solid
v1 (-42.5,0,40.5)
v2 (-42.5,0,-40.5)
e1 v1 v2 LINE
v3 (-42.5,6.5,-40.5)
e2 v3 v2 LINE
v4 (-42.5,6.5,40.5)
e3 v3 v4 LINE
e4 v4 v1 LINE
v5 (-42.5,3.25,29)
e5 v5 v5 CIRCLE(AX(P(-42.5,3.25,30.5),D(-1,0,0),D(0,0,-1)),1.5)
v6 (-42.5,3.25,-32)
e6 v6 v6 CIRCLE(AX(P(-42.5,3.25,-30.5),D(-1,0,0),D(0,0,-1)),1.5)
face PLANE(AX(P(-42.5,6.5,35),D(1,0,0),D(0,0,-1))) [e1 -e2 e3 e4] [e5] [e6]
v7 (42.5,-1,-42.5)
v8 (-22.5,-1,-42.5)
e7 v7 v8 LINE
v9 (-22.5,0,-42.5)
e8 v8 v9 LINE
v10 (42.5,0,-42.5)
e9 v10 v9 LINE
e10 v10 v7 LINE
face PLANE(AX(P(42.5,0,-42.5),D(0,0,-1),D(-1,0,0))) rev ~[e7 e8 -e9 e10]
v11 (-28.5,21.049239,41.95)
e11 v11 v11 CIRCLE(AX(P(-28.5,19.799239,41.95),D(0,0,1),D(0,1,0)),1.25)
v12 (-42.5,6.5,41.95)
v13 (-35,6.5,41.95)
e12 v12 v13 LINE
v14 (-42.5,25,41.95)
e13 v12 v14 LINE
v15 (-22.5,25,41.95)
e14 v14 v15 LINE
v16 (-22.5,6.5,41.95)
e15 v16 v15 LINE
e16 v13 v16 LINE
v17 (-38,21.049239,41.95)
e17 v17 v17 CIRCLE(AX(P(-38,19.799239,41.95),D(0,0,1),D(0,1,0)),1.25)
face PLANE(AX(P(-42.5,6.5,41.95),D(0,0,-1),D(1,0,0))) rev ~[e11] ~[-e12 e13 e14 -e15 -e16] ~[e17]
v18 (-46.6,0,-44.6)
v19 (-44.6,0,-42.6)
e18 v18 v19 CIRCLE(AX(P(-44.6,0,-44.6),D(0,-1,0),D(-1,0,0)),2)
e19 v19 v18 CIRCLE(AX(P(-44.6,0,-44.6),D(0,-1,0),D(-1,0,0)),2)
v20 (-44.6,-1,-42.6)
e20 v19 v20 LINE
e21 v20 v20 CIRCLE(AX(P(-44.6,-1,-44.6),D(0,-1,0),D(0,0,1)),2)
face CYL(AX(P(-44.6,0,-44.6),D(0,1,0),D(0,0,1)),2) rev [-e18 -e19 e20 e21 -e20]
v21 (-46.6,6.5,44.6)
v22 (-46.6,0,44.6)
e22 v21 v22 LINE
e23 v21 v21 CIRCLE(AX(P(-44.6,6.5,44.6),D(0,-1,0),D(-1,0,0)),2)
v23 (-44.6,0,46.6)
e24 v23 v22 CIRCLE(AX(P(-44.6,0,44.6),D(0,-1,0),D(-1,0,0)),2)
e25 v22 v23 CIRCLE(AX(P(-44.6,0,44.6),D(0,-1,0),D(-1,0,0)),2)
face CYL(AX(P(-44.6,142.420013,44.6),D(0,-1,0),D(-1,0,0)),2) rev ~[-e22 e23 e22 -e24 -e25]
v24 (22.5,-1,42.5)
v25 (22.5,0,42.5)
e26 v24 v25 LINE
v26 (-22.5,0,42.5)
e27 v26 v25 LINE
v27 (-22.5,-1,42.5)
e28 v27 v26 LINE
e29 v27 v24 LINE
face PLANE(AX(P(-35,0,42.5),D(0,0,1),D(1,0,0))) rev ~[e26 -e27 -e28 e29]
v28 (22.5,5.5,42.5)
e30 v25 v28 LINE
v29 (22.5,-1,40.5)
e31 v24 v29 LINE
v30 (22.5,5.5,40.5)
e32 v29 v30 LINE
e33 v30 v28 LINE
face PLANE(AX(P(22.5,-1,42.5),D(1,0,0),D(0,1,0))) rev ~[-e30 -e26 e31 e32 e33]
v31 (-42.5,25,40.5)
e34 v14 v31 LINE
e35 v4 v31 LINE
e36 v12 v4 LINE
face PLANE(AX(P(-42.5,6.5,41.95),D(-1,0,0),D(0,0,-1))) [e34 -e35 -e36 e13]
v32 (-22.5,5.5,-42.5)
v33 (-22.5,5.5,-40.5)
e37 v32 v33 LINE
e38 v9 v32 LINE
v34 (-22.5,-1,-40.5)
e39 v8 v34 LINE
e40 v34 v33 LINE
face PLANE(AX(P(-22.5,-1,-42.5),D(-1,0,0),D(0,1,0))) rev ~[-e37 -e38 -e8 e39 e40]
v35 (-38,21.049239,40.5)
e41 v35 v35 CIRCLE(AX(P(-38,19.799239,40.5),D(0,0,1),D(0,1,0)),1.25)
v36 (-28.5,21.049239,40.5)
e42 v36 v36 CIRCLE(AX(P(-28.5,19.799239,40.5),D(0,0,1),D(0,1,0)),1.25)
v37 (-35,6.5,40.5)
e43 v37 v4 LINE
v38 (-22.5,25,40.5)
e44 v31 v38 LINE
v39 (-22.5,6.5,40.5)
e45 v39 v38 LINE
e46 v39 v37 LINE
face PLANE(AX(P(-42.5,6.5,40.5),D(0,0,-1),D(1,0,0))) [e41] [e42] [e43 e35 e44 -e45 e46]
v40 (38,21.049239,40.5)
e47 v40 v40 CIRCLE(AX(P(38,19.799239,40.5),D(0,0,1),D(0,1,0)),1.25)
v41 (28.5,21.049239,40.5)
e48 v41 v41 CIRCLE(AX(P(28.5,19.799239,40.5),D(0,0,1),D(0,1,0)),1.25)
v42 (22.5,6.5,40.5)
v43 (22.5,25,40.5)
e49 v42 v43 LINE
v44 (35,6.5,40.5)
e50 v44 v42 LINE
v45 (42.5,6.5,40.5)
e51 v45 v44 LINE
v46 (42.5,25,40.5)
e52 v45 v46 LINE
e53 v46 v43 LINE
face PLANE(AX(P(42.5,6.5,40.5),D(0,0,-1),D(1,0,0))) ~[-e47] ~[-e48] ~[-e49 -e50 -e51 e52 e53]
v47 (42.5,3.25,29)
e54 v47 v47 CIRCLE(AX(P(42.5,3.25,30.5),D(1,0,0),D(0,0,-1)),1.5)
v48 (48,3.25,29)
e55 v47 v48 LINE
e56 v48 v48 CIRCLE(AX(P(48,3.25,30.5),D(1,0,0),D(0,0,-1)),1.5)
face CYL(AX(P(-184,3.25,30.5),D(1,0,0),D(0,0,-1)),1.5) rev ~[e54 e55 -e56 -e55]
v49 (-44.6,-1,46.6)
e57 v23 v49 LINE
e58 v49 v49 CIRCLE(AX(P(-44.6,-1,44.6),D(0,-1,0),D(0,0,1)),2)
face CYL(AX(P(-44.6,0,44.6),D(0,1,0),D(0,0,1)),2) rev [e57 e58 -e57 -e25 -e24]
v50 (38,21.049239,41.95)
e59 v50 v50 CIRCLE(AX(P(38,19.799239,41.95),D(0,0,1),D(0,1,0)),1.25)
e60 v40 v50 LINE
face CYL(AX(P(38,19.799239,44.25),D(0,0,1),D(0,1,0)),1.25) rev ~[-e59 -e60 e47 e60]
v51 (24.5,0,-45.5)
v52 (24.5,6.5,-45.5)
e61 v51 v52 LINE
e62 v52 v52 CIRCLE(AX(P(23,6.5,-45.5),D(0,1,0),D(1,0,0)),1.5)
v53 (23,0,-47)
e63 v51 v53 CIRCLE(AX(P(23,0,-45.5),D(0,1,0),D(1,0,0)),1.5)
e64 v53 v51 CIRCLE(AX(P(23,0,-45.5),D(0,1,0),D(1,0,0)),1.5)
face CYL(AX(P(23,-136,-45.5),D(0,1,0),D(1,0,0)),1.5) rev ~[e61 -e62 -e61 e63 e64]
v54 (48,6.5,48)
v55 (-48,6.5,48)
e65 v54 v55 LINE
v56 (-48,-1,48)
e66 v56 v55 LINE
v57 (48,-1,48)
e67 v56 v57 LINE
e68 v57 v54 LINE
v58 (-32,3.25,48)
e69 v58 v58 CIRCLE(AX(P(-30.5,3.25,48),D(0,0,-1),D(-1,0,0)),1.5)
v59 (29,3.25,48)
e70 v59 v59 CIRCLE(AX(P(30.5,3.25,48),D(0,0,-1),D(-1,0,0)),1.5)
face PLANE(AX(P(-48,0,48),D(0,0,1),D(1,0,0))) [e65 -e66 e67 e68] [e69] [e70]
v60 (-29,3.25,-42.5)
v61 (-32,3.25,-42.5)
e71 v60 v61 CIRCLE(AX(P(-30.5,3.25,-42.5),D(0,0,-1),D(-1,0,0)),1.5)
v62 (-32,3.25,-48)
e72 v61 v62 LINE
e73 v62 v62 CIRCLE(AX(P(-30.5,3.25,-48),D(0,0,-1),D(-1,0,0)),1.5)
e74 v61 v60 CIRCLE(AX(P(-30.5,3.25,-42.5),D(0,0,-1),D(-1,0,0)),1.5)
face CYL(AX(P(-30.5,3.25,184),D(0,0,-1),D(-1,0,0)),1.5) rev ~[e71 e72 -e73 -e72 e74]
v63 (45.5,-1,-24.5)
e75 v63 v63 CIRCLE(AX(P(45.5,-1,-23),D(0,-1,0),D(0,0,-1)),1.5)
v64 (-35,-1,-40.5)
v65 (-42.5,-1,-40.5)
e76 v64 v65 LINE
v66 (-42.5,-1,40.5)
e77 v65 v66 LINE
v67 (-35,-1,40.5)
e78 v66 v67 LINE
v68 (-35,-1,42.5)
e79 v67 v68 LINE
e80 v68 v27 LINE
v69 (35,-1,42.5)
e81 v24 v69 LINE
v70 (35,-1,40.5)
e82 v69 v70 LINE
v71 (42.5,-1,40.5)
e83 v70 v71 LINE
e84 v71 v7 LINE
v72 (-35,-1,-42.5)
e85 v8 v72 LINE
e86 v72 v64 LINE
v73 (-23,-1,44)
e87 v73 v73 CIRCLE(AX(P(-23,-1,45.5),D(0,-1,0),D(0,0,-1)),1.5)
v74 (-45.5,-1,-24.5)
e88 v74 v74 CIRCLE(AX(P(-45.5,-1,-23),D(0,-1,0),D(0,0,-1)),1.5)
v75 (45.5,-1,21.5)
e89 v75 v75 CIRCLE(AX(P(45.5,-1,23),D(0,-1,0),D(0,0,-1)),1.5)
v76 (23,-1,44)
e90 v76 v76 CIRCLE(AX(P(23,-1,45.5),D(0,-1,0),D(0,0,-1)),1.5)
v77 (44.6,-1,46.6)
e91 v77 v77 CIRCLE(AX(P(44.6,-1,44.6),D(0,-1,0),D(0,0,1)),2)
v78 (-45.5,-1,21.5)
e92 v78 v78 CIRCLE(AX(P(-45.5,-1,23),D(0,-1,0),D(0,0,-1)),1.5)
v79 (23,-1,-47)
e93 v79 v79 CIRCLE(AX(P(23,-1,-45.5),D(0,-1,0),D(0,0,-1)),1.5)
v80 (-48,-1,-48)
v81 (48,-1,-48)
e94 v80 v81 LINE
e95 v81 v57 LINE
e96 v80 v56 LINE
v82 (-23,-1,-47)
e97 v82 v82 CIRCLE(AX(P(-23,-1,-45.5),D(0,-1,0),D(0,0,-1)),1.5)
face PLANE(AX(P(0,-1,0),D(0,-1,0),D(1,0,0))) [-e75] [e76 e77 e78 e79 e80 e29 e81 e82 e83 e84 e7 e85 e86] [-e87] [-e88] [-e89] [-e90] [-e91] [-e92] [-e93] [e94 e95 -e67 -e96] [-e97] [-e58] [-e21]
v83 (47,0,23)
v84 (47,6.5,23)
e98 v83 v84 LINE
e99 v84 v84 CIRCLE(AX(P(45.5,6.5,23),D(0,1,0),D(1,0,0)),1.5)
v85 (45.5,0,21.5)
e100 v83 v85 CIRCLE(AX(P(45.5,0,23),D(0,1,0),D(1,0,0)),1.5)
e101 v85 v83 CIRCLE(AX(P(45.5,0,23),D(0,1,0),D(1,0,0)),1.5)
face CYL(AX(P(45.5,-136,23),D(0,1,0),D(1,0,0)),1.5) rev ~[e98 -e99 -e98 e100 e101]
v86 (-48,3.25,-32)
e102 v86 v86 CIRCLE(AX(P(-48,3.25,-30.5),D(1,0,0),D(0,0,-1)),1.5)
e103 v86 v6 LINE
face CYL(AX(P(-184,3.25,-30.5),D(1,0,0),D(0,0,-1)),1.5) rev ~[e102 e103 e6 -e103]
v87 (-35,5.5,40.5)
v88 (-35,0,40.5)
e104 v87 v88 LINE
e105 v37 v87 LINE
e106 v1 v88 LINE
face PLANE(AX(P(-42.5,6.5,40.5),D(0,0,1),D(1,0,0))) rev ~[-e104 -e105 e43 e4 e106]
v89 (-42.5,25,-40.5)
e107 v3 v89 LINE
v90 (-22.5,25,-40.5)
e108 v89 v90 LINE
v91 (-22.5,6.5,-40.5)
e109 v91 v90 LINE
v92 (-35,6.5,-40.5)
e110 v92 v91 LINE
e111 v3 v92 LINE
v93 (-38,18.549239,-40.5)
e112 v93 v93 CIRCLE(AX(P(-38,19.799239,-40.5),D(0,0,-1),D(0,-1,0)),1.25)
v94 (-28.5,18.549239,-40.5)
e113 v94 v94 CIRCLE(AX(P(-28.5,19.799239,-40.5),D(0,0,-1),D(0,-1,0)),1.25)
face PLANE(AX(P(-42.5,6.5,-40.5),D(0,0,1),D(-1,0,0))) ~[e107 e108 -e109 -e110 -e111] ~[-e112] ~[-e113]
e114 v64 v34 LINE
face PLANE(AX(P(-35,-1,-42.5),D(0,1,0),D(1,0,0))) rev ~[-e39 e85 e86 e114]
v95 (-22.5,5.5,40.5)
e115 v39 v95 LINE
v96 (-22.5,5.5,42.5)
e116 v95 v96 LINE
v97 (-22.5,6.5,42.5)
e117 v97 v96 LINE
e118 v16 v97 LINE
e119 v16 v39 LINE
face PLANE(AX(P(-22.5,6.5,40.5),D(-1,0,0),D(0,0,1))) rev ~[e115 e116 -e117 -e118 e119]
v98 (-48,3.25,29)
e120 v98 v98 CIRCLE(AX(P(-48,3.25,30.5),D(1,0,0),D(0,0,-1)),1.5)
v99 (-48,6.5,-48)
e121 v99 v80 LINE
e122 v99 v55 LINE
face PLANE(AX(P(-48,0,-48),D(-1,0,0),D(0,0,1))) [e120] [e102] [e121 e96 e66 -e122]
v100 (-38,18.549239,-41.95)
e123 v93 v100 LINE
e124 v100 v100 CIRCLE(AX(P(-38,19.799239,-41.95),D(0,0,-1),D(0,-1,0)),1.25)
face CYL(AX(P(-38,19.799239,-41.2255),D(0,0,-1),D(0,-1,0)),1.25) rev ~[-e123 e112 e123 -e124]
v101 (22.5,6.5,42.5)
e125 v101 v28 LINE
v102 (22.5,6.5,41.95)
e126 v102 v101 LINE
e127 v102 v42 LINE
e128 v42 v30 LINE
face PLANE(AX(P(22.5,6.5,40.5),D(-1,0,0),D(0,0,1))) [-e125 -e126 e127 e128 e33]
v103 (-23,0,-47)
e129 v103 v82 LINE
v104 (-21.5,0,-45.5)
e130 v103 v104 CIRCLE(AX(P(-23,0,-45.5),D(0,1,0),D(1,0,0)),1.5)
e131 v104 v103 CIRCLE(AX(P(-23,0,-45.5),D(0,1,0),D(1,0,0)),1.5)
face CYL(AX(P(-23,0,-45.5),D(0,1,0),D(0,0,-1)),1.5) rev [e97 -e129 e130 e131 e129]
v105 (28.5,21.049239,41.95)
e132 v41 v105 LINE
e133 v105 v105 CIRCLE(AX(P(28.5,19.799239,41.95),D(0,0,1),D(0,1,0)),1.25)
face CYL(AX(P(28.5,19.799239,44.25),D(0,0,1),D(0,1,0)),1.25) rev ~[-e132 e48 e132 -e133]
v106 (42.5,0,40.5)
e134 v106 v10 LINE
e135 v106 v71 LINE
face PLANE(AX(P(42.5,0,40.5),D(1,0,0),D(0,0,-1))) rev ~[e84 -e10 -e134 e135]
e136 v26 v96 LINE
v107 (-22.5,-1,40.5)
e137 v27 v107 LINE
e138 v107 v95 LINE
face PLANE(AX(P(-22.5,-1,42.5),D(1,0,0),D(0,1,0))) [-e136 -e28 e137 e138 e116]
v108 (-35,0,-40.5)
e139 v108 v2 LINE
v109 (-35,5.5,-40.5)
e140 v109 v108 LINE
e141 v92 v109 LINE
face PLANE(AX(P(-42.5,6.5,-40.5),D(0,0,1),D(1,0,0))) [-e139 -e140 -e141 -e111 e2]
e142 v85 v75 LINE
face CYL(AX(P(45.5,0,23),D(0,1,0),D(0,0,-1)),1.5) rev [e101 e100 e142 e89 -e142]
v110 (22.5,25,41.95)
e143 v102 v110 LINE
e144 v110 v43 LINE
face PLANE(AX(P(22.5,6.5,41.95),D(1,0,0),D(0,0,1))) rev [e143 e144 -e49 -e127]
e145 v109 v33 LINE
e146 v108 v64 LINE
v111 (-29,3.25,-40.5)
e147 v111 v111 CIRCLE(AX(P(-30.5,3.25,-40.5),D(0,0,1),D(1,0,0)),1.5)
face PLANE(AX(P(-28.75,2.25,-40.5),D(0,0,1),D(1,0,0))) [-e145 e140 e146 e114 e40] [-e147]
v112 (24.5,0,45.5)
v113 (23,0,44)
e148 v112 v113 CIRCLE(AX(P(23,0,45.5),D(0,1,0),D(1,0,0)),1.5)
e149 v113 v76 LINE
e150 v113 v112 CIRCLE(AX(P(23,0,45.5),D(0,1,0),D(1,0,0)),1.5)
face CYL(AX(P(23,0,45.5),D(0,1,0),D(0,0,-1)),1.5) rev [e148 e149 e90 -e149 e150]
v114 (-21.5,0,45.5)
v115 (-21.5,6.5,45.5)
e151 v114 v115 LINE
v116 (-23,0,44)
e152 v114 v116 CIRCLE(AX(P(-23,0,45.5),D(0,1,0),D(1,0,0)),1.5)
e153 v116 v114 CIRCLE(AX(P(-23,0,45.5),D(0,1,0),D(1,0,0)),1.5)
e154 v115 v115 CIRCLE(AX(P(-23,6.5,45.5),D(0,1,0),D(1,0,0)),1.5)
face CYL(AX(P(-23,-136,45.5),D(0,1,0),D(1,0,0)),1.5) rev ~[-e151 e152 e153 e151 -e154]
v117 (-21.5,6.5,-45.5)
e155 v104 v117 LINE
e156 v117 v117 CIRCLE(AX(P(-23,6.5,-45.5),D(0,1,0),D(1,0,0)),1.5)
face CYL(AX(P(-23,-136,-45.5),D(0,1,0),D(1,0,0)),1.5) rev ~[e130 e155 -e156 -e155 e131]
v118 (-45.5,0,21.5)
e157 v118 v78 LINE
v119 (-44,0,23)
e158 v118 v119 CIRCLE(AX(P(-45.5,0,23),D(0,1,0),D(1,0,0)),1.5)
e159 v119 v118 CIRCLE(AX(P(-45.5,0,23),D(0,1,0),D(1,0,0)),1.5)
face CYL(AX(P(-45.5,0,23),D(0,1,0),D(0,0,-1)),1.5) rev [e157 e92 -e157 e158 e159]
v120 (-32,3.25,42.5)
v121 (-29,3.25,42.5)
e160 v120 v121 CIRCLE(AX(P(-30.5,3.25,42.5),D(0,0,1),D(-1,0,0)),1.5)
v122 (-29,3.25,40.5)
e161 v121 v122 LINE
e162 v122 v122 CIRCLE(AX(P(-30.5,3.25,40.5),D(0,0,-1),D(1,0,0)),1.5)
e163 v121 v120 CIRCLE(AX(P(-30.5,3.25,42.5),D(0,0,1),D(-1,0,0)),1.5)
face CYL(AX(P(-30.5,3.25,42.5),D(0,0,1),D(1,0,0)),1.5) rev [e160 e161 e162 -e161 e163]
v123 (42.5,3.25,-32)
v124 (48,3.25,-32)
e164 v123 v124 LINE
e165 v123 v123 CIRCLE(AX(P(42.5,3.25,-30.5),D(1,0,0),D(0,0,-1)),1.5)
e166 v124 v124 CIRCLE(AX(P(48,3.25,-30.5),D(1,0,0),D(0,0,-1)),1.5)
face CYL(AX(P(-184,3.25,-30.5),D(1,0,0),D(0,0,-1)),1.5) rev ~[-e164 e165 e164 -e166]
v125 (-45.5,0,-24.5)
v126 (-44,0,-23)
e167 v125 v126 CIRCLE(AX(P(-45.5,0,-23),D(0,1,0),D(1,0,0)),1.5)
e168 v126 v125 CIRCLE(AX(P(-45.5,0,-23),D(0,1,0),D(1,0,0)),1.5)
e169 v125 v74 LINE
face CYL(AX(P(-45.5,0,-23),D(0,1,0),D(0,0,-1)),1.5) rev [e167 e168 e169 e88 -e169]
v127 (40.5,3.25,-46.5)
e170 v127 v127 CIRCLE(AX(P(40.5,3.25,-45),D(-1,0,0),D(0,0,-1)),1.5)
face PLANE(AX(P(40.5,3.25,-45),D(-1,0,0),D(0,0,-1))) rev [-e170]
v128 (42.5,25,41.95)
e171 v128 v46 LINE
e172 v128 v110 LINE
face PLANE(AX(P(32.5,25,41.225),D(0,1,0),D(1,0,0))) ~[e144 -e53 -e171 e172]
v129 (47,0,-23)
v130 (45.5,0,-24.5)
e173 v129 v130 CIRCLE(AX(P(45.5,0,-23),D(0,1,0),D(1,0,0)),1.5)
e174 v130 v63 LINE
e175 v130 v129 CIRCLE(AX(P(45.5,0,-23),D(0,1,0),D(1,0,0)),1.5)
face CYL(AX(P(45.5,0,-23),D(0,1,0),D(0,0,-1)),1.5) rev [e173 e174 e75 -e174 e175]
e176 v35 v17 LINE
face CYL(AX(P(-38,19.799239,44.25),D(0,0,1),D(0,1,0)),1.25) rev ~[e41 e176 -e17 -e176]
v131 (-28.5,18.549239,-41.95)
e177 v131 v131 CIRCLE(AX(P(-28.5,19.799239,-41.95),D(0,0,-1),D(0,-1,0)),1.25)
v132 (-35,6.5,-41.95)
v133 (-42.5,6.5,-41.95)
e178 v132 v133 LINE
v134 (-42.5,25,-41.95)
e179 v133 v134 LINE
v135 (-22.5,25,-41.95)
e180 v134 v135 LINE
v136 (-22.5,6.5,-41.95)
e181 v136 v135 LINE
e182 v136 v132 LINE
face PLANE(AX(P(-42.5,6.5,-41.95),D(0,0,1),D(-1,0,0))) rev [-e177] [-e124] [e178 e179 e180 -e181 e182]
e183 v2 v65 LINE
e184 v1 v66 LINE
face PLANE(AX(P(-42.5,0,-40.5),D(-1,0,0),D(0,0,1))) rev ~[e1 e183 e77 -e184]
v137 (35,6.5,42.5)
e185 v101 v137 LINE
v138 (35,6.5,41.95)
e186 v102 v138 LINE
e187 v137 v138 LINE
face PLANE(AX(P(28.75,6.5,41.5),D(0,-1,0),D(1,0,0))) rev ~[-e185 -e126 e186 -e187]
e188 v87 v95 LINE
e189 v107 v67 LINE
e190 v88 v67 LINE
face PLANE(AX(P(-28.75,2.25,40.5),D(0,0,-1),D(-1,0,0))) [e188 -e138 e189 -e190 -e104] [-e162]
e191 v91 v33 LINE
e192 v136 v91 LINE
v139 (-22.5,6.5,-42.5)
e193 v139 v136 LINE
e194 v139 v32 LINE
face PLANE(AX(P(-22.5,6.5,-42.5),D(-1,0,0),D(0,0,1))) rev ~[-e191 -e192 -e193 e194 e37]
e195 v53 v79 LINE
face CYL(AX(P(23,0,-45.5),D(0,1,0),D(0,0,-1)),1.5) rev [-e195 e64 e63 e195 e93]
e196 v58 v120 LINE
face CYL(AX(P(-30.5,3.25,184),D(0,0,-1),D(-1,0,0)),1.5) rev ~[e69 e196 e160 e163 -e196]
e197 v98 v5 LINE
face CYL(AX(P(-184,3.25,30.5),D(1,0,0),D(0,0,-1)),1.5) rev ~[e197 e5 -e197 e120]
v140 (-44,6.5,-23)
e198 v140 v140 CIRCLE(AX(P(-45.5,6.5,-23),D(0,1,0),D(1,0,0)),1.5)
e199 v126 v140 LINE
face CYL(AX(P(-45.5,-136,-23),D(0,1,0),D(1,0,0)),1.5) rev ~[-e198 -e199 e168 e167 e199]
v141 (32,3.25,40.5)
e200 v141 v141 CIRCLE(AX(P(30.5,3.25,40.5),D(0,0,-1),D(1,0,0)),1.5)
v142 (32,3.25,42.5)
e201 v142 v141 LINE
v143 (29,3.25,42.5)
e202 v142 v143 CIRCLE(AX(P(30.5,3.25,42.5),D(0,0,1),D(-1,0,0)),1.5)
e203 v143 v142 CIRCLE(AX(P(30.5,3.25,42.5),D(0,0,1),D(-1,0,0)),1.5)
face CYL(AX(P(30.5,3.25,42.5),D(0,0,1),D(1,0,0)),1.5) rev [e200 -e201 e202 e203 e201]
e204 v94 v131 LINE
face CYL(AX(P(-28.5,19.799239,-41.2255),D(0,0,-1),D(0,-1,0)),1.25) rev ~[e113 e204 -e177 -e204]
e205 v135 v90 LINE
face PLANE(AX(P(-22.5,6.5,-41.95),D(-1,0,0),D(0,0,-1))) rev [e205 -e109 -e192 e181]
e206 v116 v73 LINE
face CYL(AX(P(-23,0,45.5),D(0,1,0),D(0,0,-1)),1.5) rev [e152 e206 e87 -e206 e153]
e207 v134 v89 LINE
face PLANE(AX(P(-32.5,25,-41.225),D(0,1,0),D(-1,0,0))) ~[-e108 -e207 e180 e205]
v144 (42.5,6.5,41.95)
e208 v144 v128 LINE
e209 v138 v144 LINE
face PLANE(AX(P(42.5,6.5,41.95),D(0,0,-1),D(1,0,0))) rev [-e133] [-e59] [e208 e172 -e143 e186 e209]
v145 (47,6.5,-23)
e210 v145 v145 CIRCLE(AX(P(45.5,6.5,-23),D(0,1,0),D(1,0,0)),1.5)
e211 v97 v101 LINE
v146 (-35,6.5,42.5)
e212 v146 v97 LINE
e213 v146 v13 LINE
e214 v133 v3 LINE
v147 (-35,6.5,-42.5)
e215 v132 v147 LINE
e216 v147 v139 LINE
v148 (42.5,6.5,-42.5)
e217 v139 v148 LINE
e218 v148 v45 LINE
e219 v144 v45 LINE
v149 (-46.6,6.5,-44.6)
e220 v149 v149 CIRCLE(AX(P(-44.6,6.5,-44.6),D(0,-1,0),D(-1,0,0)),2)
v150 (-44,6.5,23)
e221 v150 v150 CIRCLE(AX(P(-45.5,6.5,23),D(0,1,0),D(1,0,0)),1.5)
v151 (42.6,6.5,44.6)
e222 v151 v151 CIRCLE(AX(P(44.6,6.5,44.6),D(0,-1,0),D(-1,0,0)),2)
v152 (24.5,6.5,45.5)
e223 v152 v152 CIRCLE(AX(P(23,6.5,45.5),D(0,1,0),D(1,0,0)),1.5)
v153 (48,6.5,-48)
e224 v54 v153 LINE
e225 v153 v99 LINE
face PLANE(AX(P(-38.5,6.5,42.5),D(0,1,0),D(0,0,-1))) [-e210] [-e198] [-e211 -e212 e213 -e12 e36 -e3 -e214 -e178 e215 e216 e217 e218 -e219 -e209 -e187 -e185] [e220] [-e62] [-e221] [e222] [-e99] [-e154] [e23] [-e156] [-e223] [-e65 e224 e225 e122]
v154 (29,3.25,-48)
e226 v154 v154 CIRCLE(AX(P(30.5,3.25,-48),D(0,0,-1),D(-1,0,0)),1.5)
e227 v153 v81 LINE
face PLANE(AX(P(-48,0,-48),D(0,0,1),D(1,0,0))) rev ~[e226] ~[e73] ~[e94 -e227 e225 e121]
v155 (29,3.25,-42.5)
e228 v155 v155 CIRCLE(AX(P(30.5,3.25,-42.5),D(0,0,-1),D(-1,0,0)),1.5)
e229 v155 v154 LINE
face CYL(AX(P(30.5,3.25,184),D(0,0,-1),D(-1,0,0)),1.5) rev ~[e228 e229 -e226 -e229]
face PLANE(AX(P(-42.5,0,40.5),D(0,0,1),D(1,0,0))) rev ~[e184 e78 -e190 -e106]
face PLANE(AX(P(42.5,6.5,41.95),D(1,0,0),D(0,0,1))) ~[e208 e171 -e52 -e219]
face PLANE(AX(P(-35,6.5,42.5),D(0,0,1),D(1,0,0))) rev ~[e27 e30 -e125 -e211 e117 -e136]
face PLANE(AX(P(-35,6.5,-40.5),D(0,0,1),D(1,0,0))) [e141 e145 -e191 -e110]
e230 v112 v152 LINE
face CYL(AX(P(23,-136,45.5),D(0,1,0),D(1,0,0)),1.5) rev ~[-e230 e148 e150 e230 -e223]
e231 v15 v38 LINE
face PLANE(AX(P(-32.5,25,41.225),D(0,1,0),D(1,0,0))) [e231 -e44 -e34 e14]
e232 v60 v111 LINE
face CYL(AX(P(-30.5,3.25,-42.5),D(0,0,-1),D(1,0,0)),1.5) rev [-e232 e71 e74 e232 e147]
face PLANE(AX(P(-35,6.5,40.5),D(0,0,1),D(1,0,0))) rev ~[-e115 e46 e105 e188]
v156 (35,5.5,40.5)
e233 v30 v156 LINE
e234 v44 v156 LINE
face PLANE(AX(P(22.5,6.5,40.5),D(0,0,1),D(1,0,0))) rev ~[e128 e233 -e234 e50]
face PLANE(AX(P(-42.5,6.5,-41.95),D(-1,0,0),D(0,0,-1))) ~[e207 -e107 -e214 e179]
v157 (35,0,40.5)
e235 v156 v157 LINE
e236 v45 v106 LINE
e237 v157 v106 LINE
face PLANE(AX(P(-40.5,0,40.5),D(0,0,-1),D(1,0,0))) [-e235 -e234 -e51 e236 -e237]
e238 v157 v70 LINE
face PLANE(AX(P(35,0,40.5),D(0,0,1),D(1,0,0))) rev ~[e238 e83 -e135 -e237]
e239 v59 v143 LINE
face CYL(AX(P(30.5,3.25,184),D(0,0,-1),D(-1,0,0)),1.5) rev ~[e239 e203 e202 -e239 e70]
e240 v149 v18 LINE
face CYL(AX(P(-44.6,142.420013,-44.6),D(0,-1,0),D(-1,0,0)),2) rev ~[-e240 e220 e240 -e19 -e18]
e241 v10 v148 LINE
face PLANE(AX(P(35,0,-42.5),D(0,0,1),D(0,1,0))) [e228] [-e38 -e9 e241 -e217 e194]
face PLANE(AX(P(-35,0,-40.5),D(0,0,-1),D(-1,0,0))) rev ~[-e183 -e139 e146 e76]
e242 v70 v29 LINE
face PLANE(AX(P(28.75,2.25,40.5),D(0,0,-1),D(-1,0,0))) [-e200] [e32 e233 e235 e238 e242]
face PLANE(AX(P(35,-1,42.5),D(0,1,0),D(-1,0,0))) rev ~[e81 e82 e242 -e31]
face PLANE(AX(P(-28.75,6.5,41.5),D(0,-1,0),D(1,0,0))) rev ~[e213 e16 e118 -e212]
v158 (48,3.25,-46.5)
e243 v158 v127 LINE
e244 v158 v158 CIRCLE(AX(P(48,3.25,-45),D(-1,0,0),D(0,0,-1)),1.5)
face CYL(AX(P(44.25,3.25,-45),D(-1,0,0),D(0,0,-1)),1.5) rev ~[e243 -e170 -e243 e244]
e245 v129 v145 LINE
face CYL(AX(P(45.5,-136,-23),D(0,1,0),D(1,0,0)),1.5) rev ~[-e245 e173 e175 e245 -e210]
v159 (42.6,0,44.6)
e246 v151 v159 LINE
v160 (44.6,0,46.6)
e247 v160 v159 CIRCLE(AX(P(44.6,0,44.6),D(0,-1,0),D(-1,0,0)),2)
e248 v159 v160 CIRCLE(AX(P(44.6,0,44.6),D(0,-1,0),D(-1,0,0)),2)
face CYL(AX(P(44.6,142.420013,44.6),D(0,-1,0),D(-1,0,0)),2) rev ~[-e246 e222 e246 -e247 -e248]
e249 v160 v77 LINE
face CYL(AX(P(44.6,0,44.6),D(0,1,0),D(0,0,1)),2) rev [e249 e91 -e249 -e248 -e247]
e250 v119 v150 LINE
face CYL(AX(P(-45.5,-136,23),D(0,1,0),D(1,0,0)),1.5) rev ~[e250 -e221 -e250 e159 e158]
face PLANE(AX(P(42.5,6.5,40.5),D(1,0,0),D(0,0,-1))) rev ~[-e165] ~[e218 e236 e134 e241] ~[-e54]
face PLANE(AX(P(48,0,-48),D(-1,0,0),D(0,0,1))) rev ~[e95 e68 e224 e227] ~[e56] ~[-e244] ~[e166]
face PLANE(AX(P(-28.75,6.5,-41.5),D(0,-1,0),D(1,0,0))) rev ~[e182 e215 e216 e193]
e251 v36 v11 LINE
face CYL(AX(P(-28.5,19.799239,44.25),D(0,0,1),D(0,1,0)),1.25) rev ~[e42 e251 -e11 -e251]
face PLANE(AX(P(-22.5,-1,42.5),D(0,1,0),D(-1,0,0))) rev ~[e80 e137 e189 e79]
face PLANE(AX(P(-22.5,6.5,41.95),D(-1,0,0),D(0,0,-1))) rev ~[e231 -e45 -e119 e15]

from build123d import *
from build123d.topology import SkipClean

# Parameters (mm, degrees)
SKETCH1_W                               = 96
SKETCH1_H                               = 96
SKETCH1_W_2                             = 80
SKETCH1_H_2                             = 80
BOSS_EXTRUDE1_DEPTH                     = 8
SKETCH27_W                              = 82
SKETCH27_H                              = 82
CUT_EXTRUDE2_DEPTH                      = 10
F_3_0_3_DIAMETER_HOLE1_D                = 3
TAP_DRILL_FOR_M3X0_5_TAP2_D             = 3
SKETCH38_W                              = 85
SKETCH38_H                              = 85
CUT_EXTRUDE4_DEPTH                      = 10
F_3_0_3_DIAMETER_HOLE7_D                = 3
SKETCH44_W                              = 4
SKETCH44_H                              = 4
BOSS_EXTRUDE2_DEPTH                     = 8
SKETCH45_W                              = 4
SKETCH45_H                              = 3.5
BOSS_EXTRUDE3_DEPTH                     = 8
SKETCH49_W                              = 96
SKETCH49_H                              = 1.5
CUT_EXTRUDE5_DEPTH                      = 146
TAP_DRILL_FOR_M4_TAP1_D                 = 4
SKETCH53_W                              = 4
SKETCH53_H                              = 6.5
BOSS_EXTRUDE5_DEPTH                     = 78
SKETCH57_W                              = 4
SKETCH57_H                              = 6.5
CUT_EXTRUDE6_DEPTH                      = 7.5
SKETCH58_W                              = 4
SKETCH58_H                              = 6.5
BOSS_EXTRUDE7_DEPTH                     = 81
SKETCH61_W                              = 32
SKETCH61_H                              = 85
CUT_EXTRUDE7_DEPTH                      = 81
SKETCH66_W                              = 85
SKETCH66_H                              = 80.198
CUT_EXTRUDE8_DEPTH                      = 10
SKETCH67_W                              = 85
SKETCH67_H                              = 85
CUT_EXTRUDE9_DEPTH                      = 3.5
SKETCH68_W                              = 52
SKETCH68_H                              = 85
CUT_EXTRUDE10_DEPTH                     = 56
SKETCH54_W                              = 20
SKETCH54_H                              = 1.45
BOSS_EXTRUDE8_DEPTH                     = 18.5
CUT_EXTRUDE12_START                     = -10.22
SKETCH75_W                              = 2.401
SKETCH75_H                              = 3
CUT_EXTRUDE12_DEPTH                     = 72.44
SKETCH77_W                              = 2.401
SKETCH77_H                              = 3
CUT_EXTRUDE13_DEPTH                     = 6.28
SKETCH78_W                              = 85
SKETCH78_H                              = 85
CUT_EXTRUDE14_DEPTH                     = 6.5
SKETCH79_W                              = 85
SKETCH79_H                              = 85
SKETCH79_W_2                            = 81
SKETCH79_H_2                            = 81
BOSS_EXTRUDE12_DEPTH                    = 6.5
SKETCH82_W                              = 1.25
SKETCH82_H                              = 7.5
TAP_DRILL_FOR_M2_5X0_45_TAP2_AT_2_COUNT = 2
TAP_DRILL_FOR_M2_5X0_45_TAP2_AT_2_PITCH = 9.5
TAP_DRILL_FOR_M2_5X0_45_TAP2_AT_3_COUNT = 2
TAP_DRILL_FOR_M2_5X0_45_TAP2_AT_3_PITCH = 66.5
TAP_DRILL_FOR_M2_5X0_45_TAP2_AT_4_COUNT = 2
TAP_DRILL_FOR_M2_5X0_45_TAP2_AT_4_PITCH = 57
SKETCH84_W                              = 1.25
SKETCH84_H                              = 1.451
TAP_DRILL_FOR_M2_5X0_45_TAP3_AT_2_COUNT = 2
TAP_DRILL_FOR_M2_5X0_45_TAP3_AT_2_PITCH = 9.5
SKETCH86_W                              = 1.5
SKETCH86_H                              = 7.5
SKETCH88_W                              = 2
SKETCH88_H                              = 70
SKETCH88_W_2                            = 70
SKETCH88_H_2                            = 2
CUT_EXTRUDE15_DEPTH                     = 10
SKETCH89_W                              = 85
SKETCH89_H                              = 81
CUT_EXTRUDE16_DEPTH                     = 10
SKETCH90_W                              = 2
SKETCH90_H                              = 6.5
CUT_EXTRUDE17_DEPTH                     = 7.5
SKETCH91_W                              = 96
SKETCH91_H                              = 96
SKETCH91_R                              = 1.5
SKETCH91_R_2                            = 2
BOSS_EXTRUDE14_DEPTH                    = 1
SKETCH92_W                              = 12.5
SKETCH92_H                              = 2
BOSS_EXTRUDE15_DEPTH                    = 1
SKETCH94_W                              = 12.5
SKETCH94_H                              = 2
BOSS_EXTRUDE16_DEPTH                    = 1
SKETCH95_W                              = 12.5
SKETCH95_H                              = 2
BOSS_EXTRUDE17_DEPTH                    = 1
SKETCH96_W                              = 12.5
SKETCH96_H                              = 6.5
SKETCH96_R                              = 1.5
BOSS_EXTRUDE18_DEPTH                    = 2
SKETCH97_W                              = 12.5
SKETCH97_H                              = 6.5
SKETCH97_R                              = 1.5
BOSS_EXTRUDE19_DEPTH                    = 2


with BuildPart() as part:
    # Sketch1 → Boss-Extrude1 (new body)
    with BuildSketch(Plane(origin=(0, 0, 0), x_dir=(1, 0, 0), z_dir=(0, 1, 0))):
        Rectangle(SKETCH1_W, SKETCH1_H)
        Rectangle(SKETCH1_W_2, SKETCH1_H_2, mode=Mode.SUBTRACT)
    extrude(amount=BOSS_EXTRUDE1_DEPTH)

    # Sketch27 → Cut-Extrude2 (cut)
    with BuildSketch(Plane(origin=(0, 8, 0), x_dir=(1, 0, 0), z_dir=(0, 1, 0))):
        Rectangle(SKETCH27_W, SKETCH27_H)
    extrude(amount=-CUT_EXTRUDE2_DEPTH, mode=Mode.SUBTRACT)

    # Ø3.0 (3) Diameter Hole1 (through all)
    with Locations(Plane.XY.offset(48)):
        with Locations((-30.5, 3.25), (30.5, 3.25)):
            Hole(F_3_0_3_DIAMETER_HOLE1_D / 2)

    # Tap Drill for M3x0.5 Tap2 (through all)
    with Locations(Plane(origin=(0, 0, 0), x_dir=(-1, 0, 0), z_dir=(0, -1, 0))):
        with Locations((23, -45.5), (-23, -45.5), (-45.5, -23), (-45.5, 23), (-23, 45.5), (23, 45.5), (45.5, 23), (45.5, -23)):
            Hole(TAP_DRILL_FOR_M3X0_5_TAP2_D / 2)

    # Sketch38 → Cut-Extrude4 (cut)
    with BuildSketch(Plane(origin=(0, 8, 0), x_dir=(1, 0, 0), z_dir=(0, 1, 0))):
        Rectangle(SKETCH38_W, SKETCH38_H)
    extrude(amount=-CUT_EXTRUDE4_DEPTH, mode=Mode.SUBTRACT)

    # Ø3.0 (3) Diameter Hole7 (through all)
    with Locations(Plane.ZY.offset(48)):
        with Locations((-30.5, 3.25), (30.5, 3.25)):
            Hole(F_3_0_3_DIAMETER_HOLE7_D / 2)

    # Sketch44 → Boss-Extrude2 (add)
    with BuildSketch(Plane.XZ):
        with Locations((40.5, -40.5)):
            Rectangle(SKETCH44_W, SKETCH44_H)
        with Locations((-40.5, -40.5)):
            Rectangle(SKETCH44_W, SKETCH44_H)
        with Locations((-40.5, 40.5)):
            Rectangle(SKETCH44_W, SKETCH44_H)
        with Locations((40.5, 40.5)):
            Rectangle(SKETCH44_W, SKETCH44_H)
    extrude(amount=-BOSS_EXTRUDE2_DEPTH)

    # Sketch45 → Boss-Extrude3 (add)
    with BuildSketch(Plane(origin=(0, 8, 0), x_dir=(1, 0, 0), z_dir=(0, 1, 0))):
        with Locations((-40.5, 36.75)):
            Rectangle(SKETCH45_W, SKETCH45_H)
    extrude(amount=-BOSS_EXTRUDE3_DEPTH)

    # Sketch49 → Cut-Extrude5 (cut)
    with BuildSketch(Plane(origin=(48, 0, 0), x_dir=(0, 0, -1), z_dir=(1, 0, 0))):
        with Locations((0, 7.25)):
            Rectangle(SKETCH49_W, SKETCH49_H)
    extrude(amount=-CUT_EXTRUDE5_DEPTH, mode=Mode.SUBTRACT)

    # Tap Drill for M4 Tap1 (through all)
    with Locations(Plane(origin=(0, 6.5, 0), x_dir=(1, 0, 0), z_dir=(0, 1, 0))):
        with Locations((44.6, -44.6), (-44.6, -44.6), (-44.6, 44.6)):
            Hole(TAP_DRILL_FOR_M4_TAP1_D / 2)

    # Sketch53 → Boss-Extrude5 (add)
    with BuildSketch(Plane(origin=(-38.5, 0, 0), x_dir=(0, 0, -1), z_dir=(1, 0, 0))):
        with Locations((-40.5, 3.25)):
            Rectangle(SKETCH53_W, SKETCH53_H)
    extrude(amount=BOSS_EXTRUDE5_DEPTH)

    # Sketch57 → Cut-Extrude6 (cut)
    with BuildSketch(Plane.XY.offset(-35)):
        with Locations((-40.5, 3.25)):
            Rectangle(SKETCH57_W, SKETCH57_H)
    extrude(amount=-CUT_EXTRUDE6_DEPTH, mode=Mode.SUBTRACT)

    # Sketch58 → Boss-Extrude7 (add)
    with BuildSketch(Plane.ZY.offset(-38.5)):
        with Locations((-40.5, 3.25)):
            Rectangle(SKETCH58_W, SKETCH58_H)
    extrude(amount=BOSS_EXTRUDE7_DEPTH)

    # Sketch61 → Cut-Extrude7 (cut)
    with BuildSketch(Plane(origin=(0, 6.5, 0), x_dir=(1, 0, 0), z_dir=(0, 1, 0))):
        Rectangle(SKETCH61_W, SKETCH61_H)
    extrude(amount=-CUT_EXTRUDE7_DEPTH, mode=Mode.SUBTRACT)

    # Sketch66 → Cut-Extrude8 (cut)
    with BuildSketch(Plane(origin=(0, 6.5, 0), x_dir=(1, 0, 0), z_dir=(0, 1, 0))):
        Rectangle(SKETCH66_W, SKETCH66_H)
    extrude(amount=-CUT_EXTRUDE8_DEPTH, mode=Mode.SUBTRACT)

    # Sketch67 → Cut-Extrude9 (cut)
    with BuildSketch(Plane.XZ):
        Rectangle(SKETCH67_W, SKETCH67_H)
    extrude(amount=-CUT_EXTRUDE9_DEPTH, mode=Mode.SUBTRACT)

    # Sketch68 → Cut-Extrude10 (cut)
    with BuildSketch(Plane(origin=(0, 6.5, 0), x_dir=(1, 0, 0), z_dir=(0, 1, 0))):
        Rectangle(SKETCH68_W, SKETCH68_H)
    extrude(amount=-CUT_EXTRUDE10_DEPTH, mode=Mode.SUBTRACT)

    # Sketch54 → Boss-Extrude8 (add)
    with BuildSketch(Plane(origin=(0, 6.5, 0), x_dir=(1, 0, 0), z_dir=(0, 1, 0))):
        with Locations((-32.5, -41.225)):
            Rectangle(SKETCH54_W, SKETCH54_H)
    boss_extrude8 = extrude(amount=BOSS_EXTRUDE8_DEPTH)

    # Mirror1: Boss-Extrude8 across plane
    add(boss_extrude8.mirror(Plane(origin=(0, 0, 0), x_dir=(0, 0, 1), z_dir=(1, 0, 0))))

    # Sketch75 → Cut-Extrude12 (cut)
    with BuildSketch(Plane.ZY.offset(-26).offset(CUT_EXTRUDE12_START)):
        with Locations((41.2995, 5)):
            Rectangle(SKETCH75_W, SKETCH75_H)
    cut_extrude12 = extrude(amount=CUT_EXTRUDE12_DEPTH, mode=Mode.SUBTRACT)

    # Mirror2: Boss-Extrude8 across plane
    add(boss_extrude8.mirror(Plane.XY))

    # Mirror3: Cut-Extrude12 across plane
    add(cut_extrude12.mirror(Plane.XY), mode=Mode.SUBTRACT)

    # Sketch77 → Cut-Extrude13 (cut)
    with BuildSketch(Plane.ZY.offset(-36.22)):
        with Locations((-41.2995, 5)):
            Rectangle(SKETCH77_W, SKETCH77_H)
    extrude(amount=-CUT_EXTRUDE13_DEPTH, mode=Mode.SUBTRACT)

    # Sketch78 → Cut-Extrude14 (cut)
    with BuildSketch(Plane.XZ):
        Rectangle(SKETCH78_W, SKETCH78_H)
    extrude(amount=-CUT_EXTRUDE14_DEPTH, mode=Mode.SUBTRACT)


with BuildPart() as cut_extrude14_piece_1:
    # of the separate pieces the step leaves, piece 1, a body of its own (cut_extrude14_pieces)
    add(part.part.solids().sort_by_distance((48, 0, 48))[0])

    # Sketch79 → Boss-Extrude12 (add)
    with BuildSketch(Plane.XZ):
        Rectangle(SKETCH79_W, SKETCH79_H)
        Rectangle(SKETCH79_W_2, SKETCH79_H_2, mode=Mode.SUBTRACT)
    extrude(amount=-BOSS_EXTRUDE12_DEPTH)

    # Sketch86 → Tap Drill for M3x0.5 Tap4 (revolve, cut)
    with BuildSketch(Plane(origin=(48, 3.25, -45), x_dir=(0, 0, -1), z_dir=(0, 1, 0))):
        with Locations((0.75, 3.75)):
            Rectangle(SKETCH86_W, SKETCH86_H)
    revolve(axis=Axis((54.35, 3.25, -45), (-1, 0, 0)), mode=Mode.SUBTRACT)

    # Sketch88 → Cut-Extrude15 (cut)
    with BuildSketch(Plane(origin=(0, 6.5, 0), x_dir=(1, 0, 0), z_dir=(0, 1, 0))):
        with Locations((41.5, 0)):
            Rectangle(SKETCH88_W, SKETCH88_H)
        with Locations((0, -41.5)):
            Rectangle(SKETCH88_W_2, SKETCH88_H_2)
        with Locations((-41.5, 0)):
            Rectangle(SKETCH88_W, SKETCH88_H)
        with Locations((0, 41.5)):
            Rectangle(SKETCH88_W_2, SKETCH88_H_2)
    extrude(amount=-CUT_EXTRUDE15_DEPTH, mode=Mode.SUBTRACT)

    # Sketch89 → Cut-Extrude16 (cut)
    with BuildSketch(Plane(origin=(0, 6.5, 0), x_dir=(1, 0, 0), z_dir=(0, 1, 0))):
        Rectangle(SKETCH89_W, SKETCH89_H)
    extrude(amount=-CUT_EXTRUDE16_DEPTH, mode=Mode.SUBTRACT)

    # Sketch90 → Cut-Extrude17 (cut)
    with BuildSketch(Plane.ZY.offset(-35)):
        with Locations((-41.5, 3.25)):
            Rectangle(SKETCH90_W, SKETCH90_H)
    extrude(amount=-CUT_EXTRUDE17_DEPTH, mode=Mode.SUBTRACT)

    # Sketch91 → Boss-Extrude14 (add)
    with SkipClean():  # the faces are left unmerged after this step: merging them gives an invalid solid
        with BuildSketch(Plane.XZ):
            Rectangle(SKETCH91_W, SKETCH91_H)
            with Locations(Location((23, -45.5, 0), (0, 0, 270))):
                Circle(SKETCH91_R, mode=Mode.SUBTRACT)
            with Locations(Location((-23, -45.5, 0), (0, 0, 270))):
                Circle(SKETCH91_R, mode=Mode.SUBTRACT)
            with Locations(Location((44.6, 44.6, 0), (0, 0, 90))):
                Circle(SKETCH91_R_2, mode=Mode.SUBTRACT)
            with Locations(Location((-45.5, -23, 0), (0, 0, 270))):
                Circle(SKETCH91_R, mode=Mode.SUBTRACT)
            with Locations(Location((-45.5, 23, 0), (0, 0, 270))):
                Circle(SKETCH91_R, mode=Mode.SUBTRACT)
            with Locations(Location((-23, 45.5, 0), (0, 0, 270))):
                Circle(SKETCH91_R, mode=Mode.SUBTRACT)
            with Locations(Location((23, 45.5, 0), (0, 0, 270))):
                Circle(SKETCH91_R, mode=Mode.SUBTRACT)
            with Locations(Location((45.5, 23, 0), (0, 0, 270))):
                Circle(SKETCH91_R, mode=Mode.SUBTRACT)
            with Locations(Location((-44.6, -44.6, 0), (0, 0, 90))):
                Circle(SKETCH91_R_2, mode=Mode.SUBTRACT)
            with Locations(Location((45.5, -23, 0), (0, 0, 270))):
                Circle(SKETCH91_R, mode=Mode.SUBTRACT)
            with Locations(Location((-44.6, 44.6, 0), (0, 0, 90))):
                Circle(SKETCH91_R_2, mode=Mode.SUBTRACT)
            Polygon((42.5, -42.5), (-35, -42.5), (-35, -40.5), (-42.5, -40.5), (-42.5, 40.5), (-35, 40.5), (-35, 42.5), (35, 42.5), (35, 40.5), (42.5, 40.5), align=None, mode=Mode.SUBTRACT)
        extrude(amount=BOSS_EXTRUDE14_DEPTH)



with BuildPart() as cut_extrude14_piece_2:
    # of the separate pieces the step leaves, piece 2, a body of its own (cut_extrude14_pieces)
    add(part.part.solids().sort_by_distance((-42.5, 25, -40.5))[0])

    # Sketch84 → Tap Drill for M2.5x0.45 Tap3 (revolve, cut)
    with BuildSketch(Plane(origin=(-28.5, 19.79923894, -40.5), x_dir=(0, -1, 0), z_dir=(1, 0, 0))):
        with Locations((0.625, 0.7255)):
            Rectangle(SKETCH84_W, SKETCH84_H)
    tap_drill_for_m2_5x0_45_tap3 = revolve(axis=Axis((-28.5, 19.79923894, -34.15), (0, 0, -1)), mode=Mode.SUBTRACT)

    # Tap Drill for M2.5x0.45 Tap3 at 2: Tap Drill for M2.5x0.45 Tap3 ×2
    with Locations(*[(-i * TAP_DRILL_FOR_M2_5X0_45_TAP3_AT_2_PITCH, 0, 0) for i in range(1, TAP_DRILL_FOR_M2_5X0_45_TAP3_AT_2_COUNT)]):
        add(tap_drill_for_m2_5x0_45_tap3, mode=Mode.SUBTRACT)


with BuildPart() as cut_extrude14_piece_3:
    # of the separate pieces the step leaves, piece 3, a body of its own (cut_extrude14_pieces)
    add(part.part.solids().sort_by_distance((-42.5, 25, 40.5))[0])

    # Sketch82 → Tap Drill for M2.5x0.45 Tap2 (revolve, cut)
    with BuildSketch(Plane(origin=(-28.5, 19.79923894, 40.5), x_dir=(0, 1, 0), z_dir=(1, 0, 0))):
        with Locations((0.625, 3.75)):
            Rectangle(SKETCH82_W, SKETCH82_H)
    tap_drill_for_m2_5x0_45_tap2 = revolve(axis=Axis((-28.5, 19.79923894, 34.15), (0, 0, 1)), mode=Mode.SUBTRACT)

    # Tap Drill for M2.5x0.45 Tap2 at 2: Tap Drill for M2.5x0.45 Tap2 ×2
    with Locations(*[(-i * TAP_DRILL_FOR_M2_5X0_45_TAP2_AT_2_PITCH, 0, 0) for i in range(1, TAP_DRILL_FOR_M2_5X0_45_TAP2_AT_2_COUNT)]):
        add(tap_drill_for_m2_5x0_45_tap2, mode=Mode.SUBTRACT)


with BuildPart() as cut_extrude14_piece_4:
    # of the separate pieces the step leaves, piece 4, a body of its own (cut_extrude14_pieces)
    add(part.part.solids().sort_by_distance((42.5, 25, 40.5))[0])

    # Tap Drill for M2.5x0.45 Tap2 at 3: Tap Drill for M2.5x0.45 Tap2 ×2
    with Locations(*[(i * TAP_DRILL_FOR_M2_5X0_45_TAP2_AT_3_PITCH, 0, 0) for i in range(1, TAP_DRILL_FOR_M2_5X0_45_TAP2_AT_3_COUNT)]):
        add(tap_drill_for_m2_5x0_45_tap2, mode=Mode.SUBTRACT)

    # Tap Drill for M2.5x0.45 Tap2 at 4: Tap Drill for M2.5x0.45 Tap2 ×2
    with Locations(*[(i * TAP_DRILL_FOR_M2_5X0_45_TAP2_AT_4_PITCH, 0, 0) for i in range(1, TAP_DRILL_FOR_M2_5X0_45_TAP2_AT_4_COUNT)]):
        add(tap_drill_for_m2_5x0_45_tap2, mode=Mode.SUBTRACT)


with BuildPart() as cut_extrude14_piece_1_1:
    with SkipClean():  # the faces are left unmerged after this step: merging them gives an invalid solid
        add(cut_extrude14_piece_1.part)

        add(cut_extrude14_piece_3.part)  # Boss-Extrude15 merges Cut-Extrude14 piece 3
        # Sketch92 → Boss-Extrude15 (add)
        with BuildSketch(Plane.XZ.offset(-6.5)):
            with Locations((-28.75, 41.5)):
                Rectangle(SKETCH92_W, SKETCH92_H)
        extrude(amount=BOSS_EXTRUDE15_DEPTH)


    with SkipClean():  # the faces are left unmerged after this step: merging them gives an invalid solid
        add(cut_extrude14_piece_4.part)  # Boss-Extrude16 merges Cut-Extrude14 piece 4
        # Sketch94 → Boss-Extrude16 (add)
        with BuildSketch(Plane.XZ.offset(-6.5)):
            with Locations((28.75, 41.5)):
                Rectangle(SKETCH94_W, SKETCH94_H)
        extrude(amount=BOSS_EXTRUDE16_DEPTH)


    with SkipClean():  # the faces are left unmerged after this step: merging them gives an invalid solid
        add(cut_extrude14_piece_2.part)  # Boss-Extrude17 merges Cut-Extrude14 piece 2
        # Sketch95 → Boss-Extrude17 (add)
        with BuildSketch(Plane.XZ.offset(-6.5)):
            with Locations((-28.75, -41.5)):
                Rectangle(SKETCH95_W, SKETCH95_H)
        extrude(amount=BOSS_EXTRUDE17_DEPTH)

    # Sketch96 → Boss-Extrude18 (add)
    with SkipClean():  # the faces are left unmerged after this step: merging them gives an invalid solid
        with BuildSketch(Plane.XY.offset(-42.5)):
            with Locations((-28.75, 2.25)):
                Rectangle(SKETCH96_W, SKETCH96_H)
            with Locations((-30.5, 3.25)):
                Circle(SKETCH96_R, mode=Mode.SUBTRACT)
        extrude(amount=BOSS_EXTRUDE18_DEPTH)

    # Sketch97 → Boss-Extrude19 (add)
    # profile 1 of 2: a face of its own
    with SkipClean():  # the faces are left unmerged after this step: merging them gives an invalid solid
        with BuildSketch(Plane(origin=(0, 0, 42.5), x_dir=(-1, 0, 0), z_dir=(0, 0, -1))):
            with Locations((-28.75, 2.25)):
                Rectangle(SKETCH97_W, SKETCH97_H)
            with Locations(Location((-30.5, 3.25, 0), (0, 0, 180))):
                Circle(SKETCH97_R, mode=Mode.SUBTRACT)
        # profile 2 of 2: a face of its own
        with BuildSketch(Plane(origin=(0, 0, 42.5), x_dir=(-1, 0, 0), z_dir=(0, 0, -1))):
            with Locations((28.75, 2.25)):
                Rectangle(SKETCH97_W, SKETCH97_H)
            with Locations(Location((30.5, 3.25, 0), (0, 0, 180))):
                Circle(SKETCH97_R, mode=Mode.SUBTRACT)
        extrude(amount=BOSS_EXTRUDE19_DEPTH)


solid = cut_extrude14_piece_1_1.part
